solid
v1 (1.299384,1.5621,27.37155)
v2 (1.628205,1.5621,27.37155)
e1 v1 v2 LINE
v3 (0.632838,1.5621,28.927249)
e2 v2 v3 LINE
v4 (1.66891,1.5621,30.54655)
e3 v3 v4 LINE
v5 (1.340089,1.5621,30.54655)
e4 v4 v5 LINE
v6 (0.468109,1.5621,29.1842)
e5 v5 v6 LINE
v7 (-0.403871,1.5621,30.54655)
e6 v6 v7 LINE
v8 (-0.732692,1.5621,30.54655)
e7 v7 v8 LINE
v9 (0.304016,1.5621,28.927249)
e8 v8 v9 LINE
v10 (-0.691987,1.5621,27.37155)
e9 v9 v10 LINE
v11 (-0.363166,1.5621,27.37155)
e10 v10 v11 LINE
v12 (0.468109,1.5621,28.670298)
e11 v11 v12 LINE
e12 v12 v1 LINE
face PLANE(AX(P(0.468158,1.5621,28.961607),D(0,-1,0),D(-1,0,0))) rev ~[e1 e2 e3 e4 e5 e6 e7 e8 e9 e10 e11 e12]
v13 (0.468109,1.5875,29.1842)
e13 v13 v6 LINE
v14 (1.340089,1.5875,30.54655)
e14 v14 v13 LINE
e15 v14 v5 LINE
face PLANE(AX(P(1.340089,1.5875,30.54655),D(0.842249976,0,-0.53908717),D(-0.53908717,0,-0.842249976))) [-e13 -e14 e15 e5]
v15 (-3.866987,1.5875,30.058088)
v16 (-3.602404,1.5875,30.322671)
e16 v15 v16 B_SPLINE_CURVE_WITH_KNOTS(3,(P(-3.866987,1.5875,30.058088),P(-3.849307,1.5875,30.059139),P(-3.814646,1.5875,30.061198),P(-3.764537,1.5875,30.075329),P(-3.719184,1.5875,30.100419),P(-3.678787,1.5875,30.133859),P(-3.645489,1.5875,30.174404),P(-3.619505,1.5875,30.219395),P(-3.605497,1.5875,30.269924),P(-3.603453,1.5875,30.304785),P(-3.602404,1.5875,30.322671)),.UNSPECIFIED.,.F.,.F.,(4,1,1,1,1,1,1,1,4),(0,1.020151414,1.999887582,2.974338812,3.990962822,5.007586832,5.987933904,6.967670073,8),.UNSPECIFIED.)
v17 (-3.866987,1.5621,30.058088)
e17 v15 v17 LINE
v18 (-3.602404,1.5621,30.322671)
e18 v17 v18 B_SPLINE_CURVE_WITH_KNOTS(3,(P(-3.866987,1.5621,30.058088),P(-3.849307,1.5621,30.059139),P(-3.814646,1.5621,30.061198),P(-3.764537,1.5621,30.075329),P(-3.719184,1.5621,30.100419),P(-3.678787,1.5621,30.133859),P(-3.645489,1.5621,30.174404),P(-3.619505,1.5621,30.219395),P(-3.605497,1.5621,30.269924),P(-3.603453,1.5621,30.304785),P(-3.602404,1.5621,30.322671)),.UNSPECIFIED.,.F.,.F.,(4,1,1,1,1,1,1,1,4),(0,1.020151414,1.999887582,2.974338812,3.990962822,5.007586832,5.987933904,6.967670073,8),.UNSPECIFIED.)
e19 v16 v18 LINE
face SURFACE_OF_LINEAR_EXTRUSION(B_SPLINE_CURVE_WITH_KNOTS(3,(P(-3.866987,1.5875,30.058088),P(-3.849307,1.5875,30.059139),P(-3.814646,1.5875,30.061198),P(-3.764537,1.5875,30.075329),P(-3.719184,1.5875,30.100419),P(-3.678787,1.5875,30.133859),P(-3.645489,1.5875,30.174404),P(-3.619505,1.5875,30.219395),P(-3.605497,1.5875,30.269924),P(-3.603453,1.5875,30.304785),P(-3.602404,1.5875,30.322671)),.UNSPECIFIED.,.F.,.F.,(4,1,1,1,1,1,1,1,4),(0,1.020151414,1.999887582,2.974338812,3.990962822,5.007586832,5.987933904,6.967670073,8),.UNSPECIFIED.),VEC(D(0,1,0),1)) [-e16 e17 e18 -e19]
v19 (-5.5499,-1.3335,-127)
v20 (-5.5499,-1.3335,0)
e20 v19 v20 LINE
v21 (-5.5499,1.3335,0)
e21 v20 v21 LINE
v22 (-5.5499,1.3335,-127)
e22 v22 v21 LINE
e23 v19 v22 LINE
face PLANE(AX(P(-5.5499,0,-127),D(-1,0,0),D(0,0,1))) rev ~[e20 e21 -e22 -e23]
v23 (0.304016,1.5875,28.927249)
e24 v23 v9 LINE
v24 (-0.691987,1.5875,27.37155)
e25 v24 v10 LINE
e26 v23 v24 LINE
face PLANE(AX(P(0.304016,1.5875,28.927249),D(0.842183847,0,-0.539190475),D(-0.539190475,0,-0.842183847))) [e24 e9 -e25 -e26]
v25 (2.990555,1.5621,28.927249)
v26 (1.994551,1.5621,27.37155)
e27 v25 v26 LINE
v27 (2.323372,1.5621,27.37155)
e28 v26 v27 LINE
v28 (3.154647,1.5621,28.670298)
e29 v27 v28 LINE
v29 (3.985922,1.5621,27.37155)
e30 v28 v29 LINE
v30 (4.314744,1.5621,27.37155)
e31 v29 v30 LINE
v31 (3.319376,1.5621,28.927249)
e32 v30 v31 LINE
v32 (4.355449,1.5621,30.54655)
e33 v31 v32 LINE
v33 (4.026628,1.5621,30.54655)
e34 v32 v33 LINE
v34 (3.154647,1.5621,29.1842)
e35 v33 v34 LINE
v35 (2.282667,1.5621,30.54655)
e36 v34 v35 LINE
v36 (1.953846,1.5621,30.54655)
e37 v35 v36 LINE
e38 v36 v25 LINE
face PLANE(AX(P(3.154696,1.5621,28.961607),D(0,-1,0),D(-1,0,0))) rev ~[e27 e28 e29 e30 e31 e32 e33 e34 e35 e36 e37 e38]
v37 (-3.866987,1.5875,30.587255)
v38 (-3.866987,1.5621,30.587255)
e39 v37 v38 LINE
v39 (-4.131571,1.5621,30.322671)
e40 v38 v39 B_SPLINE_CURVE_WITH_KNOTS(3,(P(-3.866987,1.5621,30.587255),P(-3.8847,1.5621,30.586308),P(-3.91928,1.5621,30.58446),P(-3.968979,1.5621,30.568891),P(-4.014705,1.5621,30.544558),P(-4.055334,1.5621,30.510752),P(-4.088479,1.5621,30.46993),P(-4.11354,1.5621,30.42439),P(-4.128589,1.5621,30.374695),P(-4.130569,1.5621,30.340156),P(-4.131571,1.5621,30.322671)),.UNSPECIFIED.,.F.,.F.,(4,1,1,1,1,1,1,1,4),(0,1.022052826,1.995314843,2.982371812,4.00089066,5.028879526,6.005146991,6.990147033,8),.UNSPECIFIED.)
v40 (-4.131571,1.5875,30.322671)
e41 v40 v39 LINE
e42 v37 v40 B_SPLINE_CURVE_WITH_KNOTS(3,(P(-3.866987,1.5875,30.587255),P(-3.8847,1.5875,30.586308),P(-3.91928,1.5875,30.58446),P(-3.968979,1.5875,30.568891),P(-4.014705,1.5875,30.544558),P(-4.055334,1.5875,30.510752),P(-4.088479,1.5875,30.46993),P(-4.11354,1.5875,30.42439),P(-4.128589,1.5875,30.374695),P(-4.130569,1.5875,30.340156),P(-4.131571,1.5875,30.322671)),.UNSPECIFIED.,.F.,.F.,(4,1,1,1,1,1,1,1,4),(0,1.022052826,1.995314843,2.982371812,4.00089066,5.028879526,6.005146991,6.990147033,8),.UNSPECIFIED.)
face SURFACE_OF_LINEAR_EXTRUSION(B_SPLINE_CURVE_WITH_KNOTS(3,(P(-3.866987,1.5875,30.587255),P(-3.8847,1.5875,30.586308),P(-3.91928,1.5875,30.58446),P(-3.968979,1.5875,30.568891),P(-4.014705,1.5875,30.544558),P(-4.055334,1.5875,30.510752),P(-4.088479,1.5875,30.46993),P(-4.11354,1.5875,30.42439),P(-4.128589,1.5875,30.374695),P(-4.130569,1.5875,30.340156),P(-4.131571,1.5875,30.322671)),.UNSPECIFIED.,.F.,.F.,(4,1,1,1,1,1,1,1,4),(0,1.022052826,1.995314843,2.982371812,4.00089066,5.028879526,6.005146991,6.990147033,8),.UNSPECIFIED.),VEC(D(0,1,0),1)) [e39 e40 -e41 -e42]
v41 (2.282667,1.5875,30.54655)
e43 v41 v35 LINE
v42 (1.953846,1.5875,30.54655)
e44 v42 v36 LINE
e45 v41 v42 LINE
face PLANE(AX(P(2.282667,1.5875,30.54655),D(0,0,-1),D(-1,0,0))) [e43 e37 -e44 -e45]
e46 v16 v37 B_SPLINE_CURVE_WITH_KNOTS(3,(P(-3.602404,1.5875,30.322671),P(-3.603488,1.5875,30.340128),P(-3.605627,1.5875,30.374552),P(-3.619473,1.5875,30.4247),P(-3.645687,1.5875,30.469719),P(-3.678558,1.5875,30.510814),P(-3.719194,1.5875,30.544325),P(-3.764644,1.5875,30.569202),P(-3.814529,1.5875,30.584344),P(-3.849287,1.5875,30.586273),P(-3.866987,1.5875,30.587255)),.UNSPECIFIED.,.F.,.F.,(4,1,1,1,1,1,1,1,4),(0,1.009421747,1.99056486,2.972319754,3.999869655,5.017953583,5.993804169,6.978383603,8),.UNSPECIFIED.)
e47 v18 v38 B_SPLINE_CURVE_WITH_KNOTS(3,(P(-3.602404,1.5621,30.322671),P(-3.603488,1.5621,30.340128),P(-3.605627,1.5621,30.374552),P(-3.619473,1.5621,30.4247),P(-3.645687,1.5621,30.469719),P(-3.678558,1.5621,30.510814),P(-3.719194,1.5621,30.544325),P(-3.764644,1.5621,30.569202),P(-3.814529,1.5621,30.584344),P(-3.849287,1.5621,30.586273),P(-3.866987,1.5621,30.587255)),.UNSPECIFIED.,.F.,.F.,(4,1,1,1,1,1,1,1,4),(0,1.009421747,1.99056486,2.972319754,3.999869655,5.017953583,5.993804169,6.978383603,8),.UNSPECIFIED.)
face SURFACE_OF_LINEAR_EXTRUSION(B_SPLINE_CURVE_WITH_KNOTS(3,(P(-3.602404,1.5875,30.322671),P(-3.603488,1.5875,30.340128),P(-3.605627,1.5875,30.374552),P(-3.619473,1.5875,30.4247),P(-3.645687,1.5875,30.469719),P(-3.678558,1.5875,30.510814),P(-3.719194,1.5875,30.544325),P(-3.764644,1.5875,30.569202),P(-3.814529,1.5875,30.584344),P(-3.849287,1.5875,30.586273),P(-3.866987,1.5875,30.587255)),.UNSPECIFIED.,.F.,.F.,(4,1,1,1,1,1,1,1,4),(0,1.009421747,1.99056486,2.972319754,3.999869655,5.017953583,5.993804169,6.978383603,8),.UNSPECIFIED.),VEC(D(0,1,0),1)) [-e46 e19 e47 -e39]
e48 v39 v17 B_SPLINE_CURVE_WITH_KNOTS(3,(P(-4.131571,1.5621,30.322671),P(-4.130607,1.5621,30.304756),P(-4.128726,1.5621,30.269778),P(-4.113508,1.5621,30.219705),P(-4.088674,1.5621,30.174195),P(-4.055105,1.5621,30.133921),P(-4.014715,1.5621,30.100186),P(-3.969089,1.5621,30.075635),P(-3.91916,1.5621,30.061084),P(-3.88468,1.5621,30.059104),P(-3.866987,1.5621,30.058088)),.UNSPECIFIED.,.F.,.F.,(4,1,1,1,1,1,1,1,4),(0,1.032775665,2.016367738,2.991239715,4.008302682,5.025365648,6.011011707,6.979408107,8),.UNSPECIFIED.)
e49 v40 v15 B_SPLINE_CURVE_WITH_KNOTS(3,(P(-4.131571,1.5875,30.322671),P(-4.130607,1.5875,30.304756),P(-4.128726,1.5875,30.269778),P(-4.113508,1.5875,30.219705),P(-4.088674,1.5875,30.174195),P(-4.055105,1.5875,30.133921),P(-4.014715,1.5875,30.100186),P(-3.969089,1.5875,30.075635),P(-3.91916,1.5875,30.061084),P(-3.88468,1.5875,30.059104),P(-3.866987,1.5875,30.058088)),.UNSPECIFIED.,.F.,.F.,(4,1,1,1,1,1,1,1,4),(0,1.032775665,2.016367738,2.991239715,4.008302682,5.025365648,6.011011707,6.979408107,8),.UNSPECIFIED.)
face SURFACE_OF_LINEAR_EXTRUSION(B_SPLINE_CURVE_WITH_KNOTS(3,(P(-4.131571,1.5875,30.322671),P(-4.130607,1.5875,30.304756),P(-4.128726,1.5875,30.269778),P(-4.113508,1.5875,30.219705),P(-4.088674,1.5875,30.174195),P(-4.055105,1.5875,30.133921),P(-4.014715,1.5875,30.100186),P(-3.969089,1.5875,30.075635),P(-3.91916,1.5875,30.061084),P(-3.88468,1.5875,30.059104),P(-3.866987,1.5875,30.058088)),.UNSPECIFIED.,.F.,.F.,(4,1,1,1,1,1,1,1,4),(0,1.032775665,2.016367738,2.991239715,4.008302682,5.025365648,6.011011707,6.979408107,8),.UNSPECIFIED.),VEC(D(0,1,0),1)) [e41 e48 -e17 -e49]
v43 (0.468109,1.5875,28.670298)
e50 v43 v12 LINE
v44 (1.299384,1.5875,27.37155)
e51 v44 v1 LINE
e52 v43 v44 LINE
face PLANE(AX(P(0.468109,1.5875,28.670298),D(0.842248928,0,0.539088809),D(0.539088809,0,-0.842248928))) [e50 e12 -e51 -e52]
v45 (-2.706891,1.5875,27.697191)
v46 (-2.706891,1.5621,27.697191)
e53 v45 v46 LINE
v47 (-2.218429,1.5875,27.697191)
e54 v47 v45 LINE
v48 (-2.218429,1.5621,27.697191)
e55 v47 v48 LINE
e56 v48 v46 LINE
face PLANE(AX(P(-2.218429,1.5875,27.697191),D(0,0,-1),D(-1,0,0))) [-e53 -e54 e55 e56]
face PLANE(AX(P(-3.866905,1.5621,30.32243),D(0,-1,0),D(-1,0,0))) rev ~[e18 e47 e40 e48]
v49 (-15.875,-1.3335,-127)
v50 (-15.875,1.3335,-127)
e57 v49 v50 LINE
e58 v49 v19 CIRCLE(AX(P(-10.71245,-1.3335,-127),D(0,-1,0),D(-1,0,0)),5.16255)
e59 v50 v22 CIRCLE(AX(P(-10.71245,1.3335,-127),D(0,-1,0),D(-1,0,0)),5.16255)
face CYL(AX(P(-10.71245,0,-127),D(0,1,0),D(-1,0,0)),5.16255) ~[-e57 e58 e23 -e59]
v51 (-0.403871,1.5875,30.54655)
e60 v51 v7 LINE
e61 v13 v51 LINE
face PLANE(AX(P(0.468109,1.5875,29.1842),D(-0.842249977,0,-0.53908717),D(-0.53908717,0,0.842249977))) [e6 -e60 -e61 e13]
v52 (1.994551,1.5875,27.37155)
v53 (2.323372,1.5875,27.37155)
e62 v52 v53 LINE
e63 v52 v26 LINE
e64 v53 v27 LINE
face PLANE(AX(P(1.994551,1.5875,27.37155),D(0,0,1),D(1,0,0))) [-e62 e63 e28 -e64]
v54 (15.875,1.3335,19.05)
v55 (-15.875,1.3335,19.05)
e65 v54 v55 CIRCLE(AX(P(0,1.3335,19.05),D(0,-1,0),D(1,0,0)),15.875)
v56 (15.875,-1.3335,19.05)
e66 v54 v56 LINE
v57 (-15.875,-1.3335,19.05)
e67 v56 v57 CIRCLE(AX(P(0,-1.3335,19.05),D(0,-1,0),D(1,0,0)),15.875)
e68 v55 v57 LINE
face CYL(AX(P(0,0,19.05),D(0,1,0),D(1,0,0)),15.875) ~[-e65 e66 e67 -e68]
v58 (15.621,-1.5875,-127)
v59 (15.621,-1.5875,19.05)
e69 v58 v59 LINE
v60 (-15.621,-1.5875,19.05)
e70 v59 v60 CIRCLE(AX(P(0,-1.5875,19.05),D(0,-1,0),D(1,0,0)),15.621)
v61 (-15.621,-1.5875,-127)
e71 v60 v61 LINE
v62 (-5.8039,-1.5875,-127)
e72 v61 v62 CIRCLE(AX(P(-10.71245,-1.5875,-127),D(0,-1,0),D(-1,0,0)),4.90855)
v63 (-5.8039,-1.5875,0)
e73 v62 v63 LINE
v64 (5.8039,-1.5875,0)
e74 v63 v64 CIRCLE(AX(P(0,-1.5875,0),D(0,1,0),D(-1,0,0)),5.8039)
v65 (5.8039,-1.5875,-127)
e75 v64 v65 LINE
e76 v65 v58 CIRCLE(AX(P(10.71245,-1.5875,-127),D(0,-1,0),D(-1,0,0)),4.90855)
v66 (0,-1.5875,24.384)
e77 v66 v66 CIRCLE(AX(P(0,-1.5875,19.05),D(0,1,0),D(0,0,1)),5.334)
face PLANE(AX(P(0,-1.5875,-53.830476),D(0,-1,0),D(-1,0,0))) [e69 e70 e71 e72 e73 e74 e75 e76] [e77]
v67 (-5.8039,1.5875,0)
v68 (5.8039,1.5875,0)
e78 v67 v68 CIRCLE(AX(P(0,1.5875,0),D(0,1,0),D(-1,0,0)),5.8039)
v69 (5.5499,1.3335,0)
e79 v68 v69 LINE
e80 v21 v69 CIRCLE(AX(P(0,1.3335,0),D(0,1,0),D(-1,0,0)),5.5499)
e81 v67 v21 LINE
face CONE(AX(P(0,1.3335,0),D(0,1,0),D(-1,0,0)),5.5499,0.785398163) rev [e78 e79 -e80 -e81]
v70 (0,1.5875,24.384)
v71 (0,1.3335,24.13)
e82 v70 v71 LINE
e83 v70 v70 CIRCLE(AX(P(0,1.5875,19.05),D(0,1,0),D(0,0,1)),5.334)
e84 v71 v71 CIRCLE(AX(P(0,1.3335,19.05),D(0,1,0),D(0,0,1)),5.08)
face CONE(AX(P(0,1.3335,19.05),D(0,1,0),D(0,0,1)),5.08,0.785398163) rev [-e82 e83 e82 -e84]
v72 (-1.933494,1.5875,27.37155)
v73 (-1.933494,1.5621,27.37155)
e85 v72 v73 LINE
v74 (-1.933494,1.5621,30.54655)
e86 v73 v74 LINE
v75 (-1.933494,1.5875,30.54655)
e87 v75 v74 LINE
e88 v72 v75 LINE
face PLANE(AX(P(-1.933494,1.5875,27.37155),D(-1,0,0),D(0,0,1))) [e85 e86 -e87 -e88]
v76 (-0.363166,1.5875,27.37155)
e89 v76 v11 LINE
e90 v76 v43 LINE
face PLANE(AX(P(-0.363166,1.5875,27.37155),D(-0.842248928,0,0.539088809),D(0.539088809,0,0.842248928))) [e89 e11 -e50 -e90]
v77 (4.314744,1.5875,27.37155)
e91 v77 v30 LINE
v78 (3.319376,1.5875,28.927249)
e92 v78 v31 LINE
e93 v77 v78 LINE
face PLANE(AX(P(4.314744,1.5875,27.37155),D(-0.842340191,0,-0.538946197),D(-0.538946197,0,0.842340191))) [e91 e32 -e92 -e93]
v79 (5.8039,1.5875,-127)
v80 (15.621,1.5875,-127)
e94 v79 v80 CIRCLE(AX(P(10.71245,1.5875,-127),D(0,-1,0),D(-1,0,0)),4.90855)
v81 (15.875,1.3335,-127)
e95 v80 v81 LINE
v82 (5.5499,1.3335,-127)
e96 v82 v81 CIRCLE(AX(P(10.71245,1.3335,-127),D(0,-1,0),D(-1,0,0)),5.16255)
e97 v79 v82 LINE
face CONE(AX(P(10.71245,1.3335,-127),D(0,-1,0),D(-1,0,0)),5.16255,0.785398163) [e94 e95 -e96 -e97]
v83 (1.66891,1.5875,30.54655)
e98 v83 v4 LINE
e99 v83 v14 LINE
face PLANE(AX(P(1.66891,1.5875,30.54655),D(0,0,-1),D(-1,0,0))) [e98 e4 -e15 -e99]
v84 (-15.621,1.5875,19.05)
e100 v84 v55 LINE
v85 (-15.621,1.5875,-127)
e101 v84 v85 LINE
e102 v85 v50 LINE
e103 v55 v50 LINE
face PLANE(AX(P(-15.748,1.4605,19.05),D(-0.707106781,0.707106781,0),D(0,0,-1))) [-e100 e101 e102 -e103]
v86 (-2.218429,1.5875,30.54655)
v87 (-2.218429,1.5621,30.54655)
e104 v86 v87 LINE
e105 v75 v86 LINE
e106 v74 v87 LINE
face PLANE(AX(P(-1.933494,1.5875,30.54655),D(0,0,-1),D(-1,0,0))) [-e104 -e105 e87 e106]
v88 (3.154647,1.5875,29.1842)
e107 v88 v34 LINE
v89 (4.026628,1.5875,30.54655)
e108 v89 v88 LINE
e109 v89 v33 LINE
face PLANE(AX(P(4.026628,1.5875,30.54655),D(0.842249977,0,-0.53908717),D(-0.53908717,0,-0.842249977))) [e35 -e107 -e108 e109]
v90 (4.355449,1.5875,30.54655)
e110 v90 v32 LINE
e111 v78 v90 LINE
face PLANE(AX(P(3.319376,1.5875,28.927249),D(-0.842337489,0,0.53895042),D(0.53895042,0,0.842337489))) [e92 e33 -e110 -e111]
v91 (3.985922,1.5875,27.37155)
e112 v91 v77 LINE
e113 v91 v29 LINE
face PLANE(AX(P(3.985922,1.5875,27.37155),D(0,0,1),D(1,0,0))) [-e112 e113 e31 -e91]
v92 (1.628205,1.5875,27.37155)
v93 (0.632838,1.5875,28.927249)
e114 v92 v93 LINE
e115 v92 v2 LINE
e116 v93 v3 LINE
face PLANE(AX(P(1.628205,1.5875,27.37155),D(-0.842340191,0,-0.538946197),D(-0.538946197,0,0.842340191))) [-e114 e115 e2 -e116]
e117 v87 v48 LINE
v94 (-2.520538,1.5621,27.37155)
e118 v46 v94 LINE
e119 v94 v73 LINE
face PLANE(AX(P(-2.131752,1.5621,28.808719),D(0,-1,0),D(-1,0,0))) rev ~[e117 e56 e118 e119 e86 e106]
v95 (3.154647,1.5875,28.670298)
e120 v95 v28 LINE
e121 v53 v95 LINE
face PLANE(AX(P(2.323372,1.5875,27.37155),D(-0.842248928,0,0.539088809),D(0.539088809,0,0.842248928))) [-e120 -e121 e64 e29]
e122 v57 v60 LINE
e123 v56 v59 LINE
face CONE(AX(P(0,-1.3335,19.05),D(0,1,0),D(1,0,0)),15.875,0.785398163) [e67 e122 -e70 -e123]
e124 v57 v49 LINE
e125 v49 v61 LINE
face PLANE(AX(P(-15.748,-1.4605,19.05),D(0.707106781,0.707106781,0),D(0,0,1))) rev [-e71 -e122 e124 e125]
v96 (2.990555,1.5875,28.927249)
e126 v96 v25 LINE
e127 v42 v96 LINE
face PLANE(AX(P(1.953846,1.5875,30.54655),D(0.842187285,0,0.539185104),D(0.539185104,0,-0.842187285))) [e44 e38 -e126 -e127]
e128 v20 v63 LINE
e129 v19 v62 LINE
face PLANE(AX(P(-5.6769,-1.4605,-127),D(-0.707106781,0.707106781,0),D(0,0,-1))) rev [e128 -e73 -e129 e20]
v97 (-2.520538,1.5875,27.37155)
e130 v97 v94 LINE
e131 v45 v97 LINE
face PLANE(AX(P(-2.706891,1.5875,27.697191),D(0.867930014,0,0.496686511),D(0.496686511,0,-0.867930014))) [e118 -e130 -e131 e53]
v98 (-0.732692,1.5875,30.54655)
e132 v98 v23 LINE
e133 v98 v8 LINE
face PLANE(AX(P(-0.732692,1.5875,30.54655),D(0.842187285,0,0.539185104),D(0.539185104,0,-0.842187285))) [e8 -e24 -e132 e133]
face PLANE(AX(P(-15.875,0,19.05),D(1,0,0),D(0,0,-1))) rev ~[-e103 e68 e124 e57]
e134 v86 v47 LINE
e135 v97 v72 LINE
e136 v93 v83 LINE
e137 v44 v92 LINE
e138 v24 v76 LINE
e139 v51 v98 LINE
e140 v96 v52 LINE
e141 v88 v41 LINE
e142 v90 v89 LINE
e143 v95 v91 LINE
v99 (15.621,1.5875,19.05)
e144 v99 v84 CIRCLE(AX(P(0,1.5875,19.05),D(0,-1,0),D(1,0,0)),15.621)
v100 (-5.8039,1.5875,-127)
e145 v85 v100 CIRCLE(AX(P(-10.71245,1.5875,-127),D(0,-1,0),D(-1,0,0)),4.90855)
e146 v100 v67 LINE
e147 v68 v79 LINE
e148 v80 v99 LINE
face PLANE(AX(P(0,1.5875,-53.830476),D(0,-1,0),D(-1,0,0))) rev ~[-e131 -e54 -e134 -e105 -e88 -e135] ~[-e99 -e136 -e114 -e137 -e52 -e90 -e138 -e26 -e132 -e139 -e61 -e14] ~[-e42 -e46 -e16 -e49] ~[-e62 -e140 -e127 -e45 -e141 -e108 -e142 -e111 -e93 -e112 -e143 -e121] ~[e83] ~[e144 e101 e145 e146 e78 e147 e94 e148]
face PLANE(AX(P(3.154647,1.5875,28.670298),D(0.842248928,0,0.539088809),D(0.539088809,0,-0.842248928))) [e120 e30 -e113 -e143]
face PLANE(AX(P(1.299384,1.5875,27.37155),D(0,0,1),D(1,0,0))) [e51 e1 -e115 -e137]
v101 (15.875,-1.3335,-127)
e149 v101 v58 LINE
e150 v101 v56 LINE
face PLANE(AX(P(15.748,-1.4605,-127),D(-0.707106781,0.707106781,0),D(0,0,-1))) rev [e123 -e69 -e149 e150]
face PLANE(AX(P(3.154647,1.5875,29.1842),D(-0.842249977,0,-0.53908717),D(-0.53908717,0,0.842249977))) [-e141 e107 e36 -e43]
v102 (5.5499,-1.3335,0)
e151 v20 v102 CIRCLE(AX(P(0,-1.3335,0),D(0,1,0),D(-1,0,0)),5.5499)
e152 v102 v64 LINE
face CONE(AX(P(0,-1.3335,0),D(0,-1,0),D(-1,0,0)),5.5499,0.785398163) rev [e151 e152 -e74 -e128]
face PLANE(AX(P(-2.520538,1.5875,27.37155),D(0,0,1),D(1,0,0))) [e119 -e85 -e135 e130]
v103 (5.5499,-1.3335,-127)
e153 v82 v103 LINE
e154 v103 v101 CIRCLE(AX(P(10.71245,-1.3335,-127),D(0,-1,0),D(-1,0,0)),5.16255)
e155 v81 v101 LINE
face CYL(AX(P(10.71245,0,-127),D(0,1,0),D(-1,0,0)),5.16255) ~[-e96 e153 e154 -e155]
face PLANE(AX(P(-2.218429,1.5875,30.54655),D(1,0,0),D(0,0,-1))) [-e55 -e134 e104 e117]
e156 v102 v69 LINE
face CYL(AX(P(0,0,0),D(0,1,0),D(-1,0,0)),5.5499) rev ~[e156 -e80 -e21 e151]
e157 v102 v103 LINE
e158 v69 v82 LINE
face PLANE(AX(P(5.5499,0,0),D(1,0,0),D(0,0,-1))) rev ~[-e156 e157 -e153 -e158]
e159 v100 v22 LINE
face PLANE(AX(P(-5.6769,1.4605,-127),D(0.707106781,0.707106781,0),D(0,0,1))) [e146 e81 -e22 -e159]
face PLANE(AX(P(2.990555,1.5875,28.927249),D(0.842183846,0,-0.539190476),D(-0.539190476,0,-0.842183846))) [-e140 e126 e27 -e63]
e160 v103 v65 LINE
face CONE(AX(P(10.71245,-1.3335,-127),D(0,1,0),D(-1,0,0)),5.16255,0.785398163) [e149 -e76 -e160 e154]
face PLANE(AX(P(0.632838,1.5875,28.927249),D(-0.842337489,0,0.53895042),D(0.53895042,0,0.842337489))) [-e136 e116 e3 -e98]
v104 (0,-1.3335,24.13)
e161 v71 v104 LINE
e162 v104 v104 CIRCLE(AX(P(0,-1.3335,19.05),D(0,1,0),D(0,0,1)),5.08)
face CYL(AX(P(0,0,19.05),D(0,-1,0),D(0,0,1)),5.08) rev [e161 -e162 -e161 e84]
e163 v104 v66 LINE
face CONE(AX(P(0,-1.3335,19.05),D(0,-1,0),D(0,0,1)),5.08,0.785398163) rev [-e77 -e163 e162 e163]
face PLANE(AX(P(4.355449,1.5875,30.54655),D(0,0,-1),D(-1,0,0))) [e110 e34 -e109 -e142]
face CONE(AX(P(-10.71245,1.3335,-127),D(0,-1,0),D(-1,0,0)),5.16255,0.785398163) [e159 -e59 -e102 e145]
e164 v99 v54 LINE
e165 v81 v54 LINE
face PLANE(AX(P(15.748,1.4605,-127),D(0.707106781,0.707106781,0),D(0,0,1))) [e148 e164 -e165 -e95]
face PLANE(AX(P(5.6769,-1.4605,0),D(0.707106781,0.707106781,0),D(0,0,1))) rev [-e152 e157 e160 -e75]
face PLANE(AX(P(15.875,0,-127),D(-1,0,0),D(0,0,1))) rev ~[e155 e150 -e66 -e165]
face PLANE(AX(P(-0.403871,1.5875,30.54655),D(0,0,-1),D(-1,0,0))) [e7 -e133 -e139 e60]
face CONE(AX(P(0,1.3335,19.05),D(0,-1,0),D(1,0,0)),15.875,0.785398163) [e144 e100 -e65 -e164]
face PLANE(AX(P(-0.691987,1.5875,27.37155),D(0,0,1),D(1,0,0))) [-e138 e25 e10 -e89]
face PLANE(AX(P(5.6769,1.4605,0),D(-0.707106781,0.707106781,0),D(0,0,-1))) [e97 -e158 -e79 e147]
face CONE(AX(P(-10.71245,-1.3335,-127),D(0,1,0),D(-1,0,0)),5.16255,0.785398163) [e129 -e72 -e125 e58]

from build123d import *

# Parameters (mm, degrees)
SKETCH1_R          = 5.08
BASE_EXTRUDE_DEPTH = 1.5875
CHAMFER1_SIZE      = 0.254
EXTRUDE1_DEPTH     = 0.0254


with BuildPart() as part:
    # Sketch1 → Base-Extrude (new body, symmetric)
    with BuildSketch(Plane(origin=(0, 0, 0), x_dir=(1, 0, 0), z_dir=(0, 1, 0))):
        with BuildLine():
            Line((5.5499, 0), (5.5499, 127))
            ThreePointArc((5.5499, 127), (10.71245, 132.16255), (15.875, 127))
            Line((15.875, 127), (15.875, -19.05))
            ThreePointArc((15.875, -19.05), (0, -34.925), (-15.875, -19.05))
            Line((-15.875, -19.05), (-15.875, 127))
            ThreePointArc((-15.875, 127), (-10.71245, 132.16255), (-5.5499, 127))
            Line((-5.5499, 127), (-5.5499, 0))
            ThreePointArc((-5.5499, 0), (0, -5.5499), (5.5499, 0))
        make_face()
        with Locations(Location((0, -19.05, 0), (0, 0, 270))):  # turned: the seam where the file's is
            Circle(SKETCH1_R, mode=Mode.SUBTRACT)
    extrude(amount=BASE_EXTRUDE_DEPTH, both=True)

    # Chamfer1
    chamfer1_edges = [part.edges().sort_by_distance(p)[0] for p in [
        (-10.71245, 1.5875, -132.16255),
        (-5.5499, -1.5875, -63.5),
        (0, -1.5875, 5.5499),
        (-15.875, 1.5875, -53.975),
        (0, 1.5875, 34.925),
        (15.875, 1.5875, -53.975),
        (0, -1.5875, 13.97),
        (0, 1.5875, 13.97),
        (10.71245, 1.5875, -132.16255),
        (5.5499, 1.5875, -63.5),
        (0, 1.5875, 5.5499),
        (-5.5499, 1.5875, -63.5),
        (5.5499, -1.5875, -63.5),
        (10.71245, -1.5875, -132.16255),
        (15.875, -1.5875, -53.975),
        (0, -1.5875, 34.925),
        (-15.875, -1.5875, -53.975),
        (-10.71245, -1.5875, -132.16255),
    ]]
    chamfer(chamfer1_edges, length=CHAMFER1_SIZE)

    # Sketch2 → Extrude1 (cut)
    with BuildSketch(Plane(origin=(0, 1.5875, 0), x_dir=(1, 0, 0), z_dir=(0, 1, 0))):
        with BuildLine():
            add(Edge.make_bspline(
                [(-3.866987179, -30.058088124), (-3.849306773, -30.059138746), (-3.814646402, -30.061198369), (-3.764536622, -30.075328638), (-3.719184323, -30.100418994), (-3.678787215, -30.1338588), (-3.645489197, -30.174404152), (-3.619504678, -30.219394726), (-3.605497498, -30.269924028), (-3.603452878, -30.304785233), (-3.602403846, -30.322671457)],
                knots=[0, 0, 0, 0, 1.020151414, 1.999887582, 2.974338812, 3.990962822, 5.007586832, 5.987933904, 6.967670073, 8, 8, 8, 8], degree=3))
            add(Edge.make_bspline(
                [(-3.602403846, -30.322671457), (-3.603488427, -30.340127906), (-3.605627204, -30.374551768), (-3.61947257, -30.424699952), (-3.64568723, -30.469718643), (-3.678557545, -30.510814154), (-3.71919431, -30.544324801), (-3.764643842, -30.569201693), (-3.814528769, -30.584343703), (-3.849287148, -30.586272558), (-3.866987179, -30.58725479)],
                knots=[0, 0, 0, 0, 1.009421747, 1.99056486, 2.972319754, 3.999869655, 5.017953583, 5.993804169, 6.978383603, 8, 8, 8, 8], degree=3))
            add(Edge.make_bspline(
                [(-3.866987179, -30.58725479), (-3.884699965, -30.586308099), (-3.919279963, -30.584459908), (-3.968978686, -30.568890791), (-4.014705008, -30.544558081), (-4.055333861, -30.51075167), (-4.088479474, -30.469930112), (-4.113539643, -30.424389911), (-4.128589278, -30.374695321), (-4.130568548, -30.340156181), (-4.131570513, -30.322671457)],
                knots=[0, 0, 0, 0, 1.022052826, 1.995314843, 2.982371812, 4.00089066, 5.028879526, 6.005146991, 6.990147033, 8, 8, 8, 8], degree=3))
            add(Edge.make_bspline(
                [(-4.131570513, -30.322671457), (-4.130607037, -30.304755948), (-4.128725969, -30.269778116), (-4.113508049, -30.21970464), (-4.088673913, -30.174194699), (-4.055104734, -30.133920658), (-4.014714837, -30.100186463), (-3.969088993, -30.075634829), (-3.919160268, -30.061083883), (-3.884679823, -30.059104029), (-3.866987179, -30.058088124)],
                knots=[0, 0, 0, 0, 1.032775665, 2.016367738, 2.991239715, 4.008302682, 5.025365648, 6.011011707, 6.979408107, 8, 8, 8, 8], degree=3))
        make_face()
        Polygon((-2.520537861, -27.371549662), (-1.93349359, -27.371549662), (-1.93349359, -30.546549662), (-2.218429487, -30.546549662), (-2.218429487, -27.697190688), (-2.706891026, -27.697190688), align=None)
        Polygon((-0.691987179, -27.371549662), (-0.363166066, -27.371549662), (0.468108974, -28.670297659), (1.299384014, -27.371549662), (1.628205128, -27.371549662), (0.63283754, -28.927248781), (1.668910256, -30.546549662), (1.340089143, -30.546549662), (0.468108974, -29.184199903), (-0.403871194, -30.546549662), (-0.732692308, -30.546549662), (0.304016426, -28.927248781), align=None)
        Polygon((1.994551282, -27.371549662), (2.323372396, -27.371549662), (3.154647436, -28.670297659), (3.985922476, -27.371549662), (4.31474359, -27.371549662), (3.319376002, -28.927248781), (4.355448718, -30.546549662), (4.026627604, -30.546549662), (3.154647436, -29.184199903), (2.282667268, -30.546549662), (1.953846154, -30.546549662), (2.990554888, -28.927248781), align=None)
    extrude(amount=-EXTRUDE1_DEPTH, mode=Mode.SUBTRACT)


solid = part.part
